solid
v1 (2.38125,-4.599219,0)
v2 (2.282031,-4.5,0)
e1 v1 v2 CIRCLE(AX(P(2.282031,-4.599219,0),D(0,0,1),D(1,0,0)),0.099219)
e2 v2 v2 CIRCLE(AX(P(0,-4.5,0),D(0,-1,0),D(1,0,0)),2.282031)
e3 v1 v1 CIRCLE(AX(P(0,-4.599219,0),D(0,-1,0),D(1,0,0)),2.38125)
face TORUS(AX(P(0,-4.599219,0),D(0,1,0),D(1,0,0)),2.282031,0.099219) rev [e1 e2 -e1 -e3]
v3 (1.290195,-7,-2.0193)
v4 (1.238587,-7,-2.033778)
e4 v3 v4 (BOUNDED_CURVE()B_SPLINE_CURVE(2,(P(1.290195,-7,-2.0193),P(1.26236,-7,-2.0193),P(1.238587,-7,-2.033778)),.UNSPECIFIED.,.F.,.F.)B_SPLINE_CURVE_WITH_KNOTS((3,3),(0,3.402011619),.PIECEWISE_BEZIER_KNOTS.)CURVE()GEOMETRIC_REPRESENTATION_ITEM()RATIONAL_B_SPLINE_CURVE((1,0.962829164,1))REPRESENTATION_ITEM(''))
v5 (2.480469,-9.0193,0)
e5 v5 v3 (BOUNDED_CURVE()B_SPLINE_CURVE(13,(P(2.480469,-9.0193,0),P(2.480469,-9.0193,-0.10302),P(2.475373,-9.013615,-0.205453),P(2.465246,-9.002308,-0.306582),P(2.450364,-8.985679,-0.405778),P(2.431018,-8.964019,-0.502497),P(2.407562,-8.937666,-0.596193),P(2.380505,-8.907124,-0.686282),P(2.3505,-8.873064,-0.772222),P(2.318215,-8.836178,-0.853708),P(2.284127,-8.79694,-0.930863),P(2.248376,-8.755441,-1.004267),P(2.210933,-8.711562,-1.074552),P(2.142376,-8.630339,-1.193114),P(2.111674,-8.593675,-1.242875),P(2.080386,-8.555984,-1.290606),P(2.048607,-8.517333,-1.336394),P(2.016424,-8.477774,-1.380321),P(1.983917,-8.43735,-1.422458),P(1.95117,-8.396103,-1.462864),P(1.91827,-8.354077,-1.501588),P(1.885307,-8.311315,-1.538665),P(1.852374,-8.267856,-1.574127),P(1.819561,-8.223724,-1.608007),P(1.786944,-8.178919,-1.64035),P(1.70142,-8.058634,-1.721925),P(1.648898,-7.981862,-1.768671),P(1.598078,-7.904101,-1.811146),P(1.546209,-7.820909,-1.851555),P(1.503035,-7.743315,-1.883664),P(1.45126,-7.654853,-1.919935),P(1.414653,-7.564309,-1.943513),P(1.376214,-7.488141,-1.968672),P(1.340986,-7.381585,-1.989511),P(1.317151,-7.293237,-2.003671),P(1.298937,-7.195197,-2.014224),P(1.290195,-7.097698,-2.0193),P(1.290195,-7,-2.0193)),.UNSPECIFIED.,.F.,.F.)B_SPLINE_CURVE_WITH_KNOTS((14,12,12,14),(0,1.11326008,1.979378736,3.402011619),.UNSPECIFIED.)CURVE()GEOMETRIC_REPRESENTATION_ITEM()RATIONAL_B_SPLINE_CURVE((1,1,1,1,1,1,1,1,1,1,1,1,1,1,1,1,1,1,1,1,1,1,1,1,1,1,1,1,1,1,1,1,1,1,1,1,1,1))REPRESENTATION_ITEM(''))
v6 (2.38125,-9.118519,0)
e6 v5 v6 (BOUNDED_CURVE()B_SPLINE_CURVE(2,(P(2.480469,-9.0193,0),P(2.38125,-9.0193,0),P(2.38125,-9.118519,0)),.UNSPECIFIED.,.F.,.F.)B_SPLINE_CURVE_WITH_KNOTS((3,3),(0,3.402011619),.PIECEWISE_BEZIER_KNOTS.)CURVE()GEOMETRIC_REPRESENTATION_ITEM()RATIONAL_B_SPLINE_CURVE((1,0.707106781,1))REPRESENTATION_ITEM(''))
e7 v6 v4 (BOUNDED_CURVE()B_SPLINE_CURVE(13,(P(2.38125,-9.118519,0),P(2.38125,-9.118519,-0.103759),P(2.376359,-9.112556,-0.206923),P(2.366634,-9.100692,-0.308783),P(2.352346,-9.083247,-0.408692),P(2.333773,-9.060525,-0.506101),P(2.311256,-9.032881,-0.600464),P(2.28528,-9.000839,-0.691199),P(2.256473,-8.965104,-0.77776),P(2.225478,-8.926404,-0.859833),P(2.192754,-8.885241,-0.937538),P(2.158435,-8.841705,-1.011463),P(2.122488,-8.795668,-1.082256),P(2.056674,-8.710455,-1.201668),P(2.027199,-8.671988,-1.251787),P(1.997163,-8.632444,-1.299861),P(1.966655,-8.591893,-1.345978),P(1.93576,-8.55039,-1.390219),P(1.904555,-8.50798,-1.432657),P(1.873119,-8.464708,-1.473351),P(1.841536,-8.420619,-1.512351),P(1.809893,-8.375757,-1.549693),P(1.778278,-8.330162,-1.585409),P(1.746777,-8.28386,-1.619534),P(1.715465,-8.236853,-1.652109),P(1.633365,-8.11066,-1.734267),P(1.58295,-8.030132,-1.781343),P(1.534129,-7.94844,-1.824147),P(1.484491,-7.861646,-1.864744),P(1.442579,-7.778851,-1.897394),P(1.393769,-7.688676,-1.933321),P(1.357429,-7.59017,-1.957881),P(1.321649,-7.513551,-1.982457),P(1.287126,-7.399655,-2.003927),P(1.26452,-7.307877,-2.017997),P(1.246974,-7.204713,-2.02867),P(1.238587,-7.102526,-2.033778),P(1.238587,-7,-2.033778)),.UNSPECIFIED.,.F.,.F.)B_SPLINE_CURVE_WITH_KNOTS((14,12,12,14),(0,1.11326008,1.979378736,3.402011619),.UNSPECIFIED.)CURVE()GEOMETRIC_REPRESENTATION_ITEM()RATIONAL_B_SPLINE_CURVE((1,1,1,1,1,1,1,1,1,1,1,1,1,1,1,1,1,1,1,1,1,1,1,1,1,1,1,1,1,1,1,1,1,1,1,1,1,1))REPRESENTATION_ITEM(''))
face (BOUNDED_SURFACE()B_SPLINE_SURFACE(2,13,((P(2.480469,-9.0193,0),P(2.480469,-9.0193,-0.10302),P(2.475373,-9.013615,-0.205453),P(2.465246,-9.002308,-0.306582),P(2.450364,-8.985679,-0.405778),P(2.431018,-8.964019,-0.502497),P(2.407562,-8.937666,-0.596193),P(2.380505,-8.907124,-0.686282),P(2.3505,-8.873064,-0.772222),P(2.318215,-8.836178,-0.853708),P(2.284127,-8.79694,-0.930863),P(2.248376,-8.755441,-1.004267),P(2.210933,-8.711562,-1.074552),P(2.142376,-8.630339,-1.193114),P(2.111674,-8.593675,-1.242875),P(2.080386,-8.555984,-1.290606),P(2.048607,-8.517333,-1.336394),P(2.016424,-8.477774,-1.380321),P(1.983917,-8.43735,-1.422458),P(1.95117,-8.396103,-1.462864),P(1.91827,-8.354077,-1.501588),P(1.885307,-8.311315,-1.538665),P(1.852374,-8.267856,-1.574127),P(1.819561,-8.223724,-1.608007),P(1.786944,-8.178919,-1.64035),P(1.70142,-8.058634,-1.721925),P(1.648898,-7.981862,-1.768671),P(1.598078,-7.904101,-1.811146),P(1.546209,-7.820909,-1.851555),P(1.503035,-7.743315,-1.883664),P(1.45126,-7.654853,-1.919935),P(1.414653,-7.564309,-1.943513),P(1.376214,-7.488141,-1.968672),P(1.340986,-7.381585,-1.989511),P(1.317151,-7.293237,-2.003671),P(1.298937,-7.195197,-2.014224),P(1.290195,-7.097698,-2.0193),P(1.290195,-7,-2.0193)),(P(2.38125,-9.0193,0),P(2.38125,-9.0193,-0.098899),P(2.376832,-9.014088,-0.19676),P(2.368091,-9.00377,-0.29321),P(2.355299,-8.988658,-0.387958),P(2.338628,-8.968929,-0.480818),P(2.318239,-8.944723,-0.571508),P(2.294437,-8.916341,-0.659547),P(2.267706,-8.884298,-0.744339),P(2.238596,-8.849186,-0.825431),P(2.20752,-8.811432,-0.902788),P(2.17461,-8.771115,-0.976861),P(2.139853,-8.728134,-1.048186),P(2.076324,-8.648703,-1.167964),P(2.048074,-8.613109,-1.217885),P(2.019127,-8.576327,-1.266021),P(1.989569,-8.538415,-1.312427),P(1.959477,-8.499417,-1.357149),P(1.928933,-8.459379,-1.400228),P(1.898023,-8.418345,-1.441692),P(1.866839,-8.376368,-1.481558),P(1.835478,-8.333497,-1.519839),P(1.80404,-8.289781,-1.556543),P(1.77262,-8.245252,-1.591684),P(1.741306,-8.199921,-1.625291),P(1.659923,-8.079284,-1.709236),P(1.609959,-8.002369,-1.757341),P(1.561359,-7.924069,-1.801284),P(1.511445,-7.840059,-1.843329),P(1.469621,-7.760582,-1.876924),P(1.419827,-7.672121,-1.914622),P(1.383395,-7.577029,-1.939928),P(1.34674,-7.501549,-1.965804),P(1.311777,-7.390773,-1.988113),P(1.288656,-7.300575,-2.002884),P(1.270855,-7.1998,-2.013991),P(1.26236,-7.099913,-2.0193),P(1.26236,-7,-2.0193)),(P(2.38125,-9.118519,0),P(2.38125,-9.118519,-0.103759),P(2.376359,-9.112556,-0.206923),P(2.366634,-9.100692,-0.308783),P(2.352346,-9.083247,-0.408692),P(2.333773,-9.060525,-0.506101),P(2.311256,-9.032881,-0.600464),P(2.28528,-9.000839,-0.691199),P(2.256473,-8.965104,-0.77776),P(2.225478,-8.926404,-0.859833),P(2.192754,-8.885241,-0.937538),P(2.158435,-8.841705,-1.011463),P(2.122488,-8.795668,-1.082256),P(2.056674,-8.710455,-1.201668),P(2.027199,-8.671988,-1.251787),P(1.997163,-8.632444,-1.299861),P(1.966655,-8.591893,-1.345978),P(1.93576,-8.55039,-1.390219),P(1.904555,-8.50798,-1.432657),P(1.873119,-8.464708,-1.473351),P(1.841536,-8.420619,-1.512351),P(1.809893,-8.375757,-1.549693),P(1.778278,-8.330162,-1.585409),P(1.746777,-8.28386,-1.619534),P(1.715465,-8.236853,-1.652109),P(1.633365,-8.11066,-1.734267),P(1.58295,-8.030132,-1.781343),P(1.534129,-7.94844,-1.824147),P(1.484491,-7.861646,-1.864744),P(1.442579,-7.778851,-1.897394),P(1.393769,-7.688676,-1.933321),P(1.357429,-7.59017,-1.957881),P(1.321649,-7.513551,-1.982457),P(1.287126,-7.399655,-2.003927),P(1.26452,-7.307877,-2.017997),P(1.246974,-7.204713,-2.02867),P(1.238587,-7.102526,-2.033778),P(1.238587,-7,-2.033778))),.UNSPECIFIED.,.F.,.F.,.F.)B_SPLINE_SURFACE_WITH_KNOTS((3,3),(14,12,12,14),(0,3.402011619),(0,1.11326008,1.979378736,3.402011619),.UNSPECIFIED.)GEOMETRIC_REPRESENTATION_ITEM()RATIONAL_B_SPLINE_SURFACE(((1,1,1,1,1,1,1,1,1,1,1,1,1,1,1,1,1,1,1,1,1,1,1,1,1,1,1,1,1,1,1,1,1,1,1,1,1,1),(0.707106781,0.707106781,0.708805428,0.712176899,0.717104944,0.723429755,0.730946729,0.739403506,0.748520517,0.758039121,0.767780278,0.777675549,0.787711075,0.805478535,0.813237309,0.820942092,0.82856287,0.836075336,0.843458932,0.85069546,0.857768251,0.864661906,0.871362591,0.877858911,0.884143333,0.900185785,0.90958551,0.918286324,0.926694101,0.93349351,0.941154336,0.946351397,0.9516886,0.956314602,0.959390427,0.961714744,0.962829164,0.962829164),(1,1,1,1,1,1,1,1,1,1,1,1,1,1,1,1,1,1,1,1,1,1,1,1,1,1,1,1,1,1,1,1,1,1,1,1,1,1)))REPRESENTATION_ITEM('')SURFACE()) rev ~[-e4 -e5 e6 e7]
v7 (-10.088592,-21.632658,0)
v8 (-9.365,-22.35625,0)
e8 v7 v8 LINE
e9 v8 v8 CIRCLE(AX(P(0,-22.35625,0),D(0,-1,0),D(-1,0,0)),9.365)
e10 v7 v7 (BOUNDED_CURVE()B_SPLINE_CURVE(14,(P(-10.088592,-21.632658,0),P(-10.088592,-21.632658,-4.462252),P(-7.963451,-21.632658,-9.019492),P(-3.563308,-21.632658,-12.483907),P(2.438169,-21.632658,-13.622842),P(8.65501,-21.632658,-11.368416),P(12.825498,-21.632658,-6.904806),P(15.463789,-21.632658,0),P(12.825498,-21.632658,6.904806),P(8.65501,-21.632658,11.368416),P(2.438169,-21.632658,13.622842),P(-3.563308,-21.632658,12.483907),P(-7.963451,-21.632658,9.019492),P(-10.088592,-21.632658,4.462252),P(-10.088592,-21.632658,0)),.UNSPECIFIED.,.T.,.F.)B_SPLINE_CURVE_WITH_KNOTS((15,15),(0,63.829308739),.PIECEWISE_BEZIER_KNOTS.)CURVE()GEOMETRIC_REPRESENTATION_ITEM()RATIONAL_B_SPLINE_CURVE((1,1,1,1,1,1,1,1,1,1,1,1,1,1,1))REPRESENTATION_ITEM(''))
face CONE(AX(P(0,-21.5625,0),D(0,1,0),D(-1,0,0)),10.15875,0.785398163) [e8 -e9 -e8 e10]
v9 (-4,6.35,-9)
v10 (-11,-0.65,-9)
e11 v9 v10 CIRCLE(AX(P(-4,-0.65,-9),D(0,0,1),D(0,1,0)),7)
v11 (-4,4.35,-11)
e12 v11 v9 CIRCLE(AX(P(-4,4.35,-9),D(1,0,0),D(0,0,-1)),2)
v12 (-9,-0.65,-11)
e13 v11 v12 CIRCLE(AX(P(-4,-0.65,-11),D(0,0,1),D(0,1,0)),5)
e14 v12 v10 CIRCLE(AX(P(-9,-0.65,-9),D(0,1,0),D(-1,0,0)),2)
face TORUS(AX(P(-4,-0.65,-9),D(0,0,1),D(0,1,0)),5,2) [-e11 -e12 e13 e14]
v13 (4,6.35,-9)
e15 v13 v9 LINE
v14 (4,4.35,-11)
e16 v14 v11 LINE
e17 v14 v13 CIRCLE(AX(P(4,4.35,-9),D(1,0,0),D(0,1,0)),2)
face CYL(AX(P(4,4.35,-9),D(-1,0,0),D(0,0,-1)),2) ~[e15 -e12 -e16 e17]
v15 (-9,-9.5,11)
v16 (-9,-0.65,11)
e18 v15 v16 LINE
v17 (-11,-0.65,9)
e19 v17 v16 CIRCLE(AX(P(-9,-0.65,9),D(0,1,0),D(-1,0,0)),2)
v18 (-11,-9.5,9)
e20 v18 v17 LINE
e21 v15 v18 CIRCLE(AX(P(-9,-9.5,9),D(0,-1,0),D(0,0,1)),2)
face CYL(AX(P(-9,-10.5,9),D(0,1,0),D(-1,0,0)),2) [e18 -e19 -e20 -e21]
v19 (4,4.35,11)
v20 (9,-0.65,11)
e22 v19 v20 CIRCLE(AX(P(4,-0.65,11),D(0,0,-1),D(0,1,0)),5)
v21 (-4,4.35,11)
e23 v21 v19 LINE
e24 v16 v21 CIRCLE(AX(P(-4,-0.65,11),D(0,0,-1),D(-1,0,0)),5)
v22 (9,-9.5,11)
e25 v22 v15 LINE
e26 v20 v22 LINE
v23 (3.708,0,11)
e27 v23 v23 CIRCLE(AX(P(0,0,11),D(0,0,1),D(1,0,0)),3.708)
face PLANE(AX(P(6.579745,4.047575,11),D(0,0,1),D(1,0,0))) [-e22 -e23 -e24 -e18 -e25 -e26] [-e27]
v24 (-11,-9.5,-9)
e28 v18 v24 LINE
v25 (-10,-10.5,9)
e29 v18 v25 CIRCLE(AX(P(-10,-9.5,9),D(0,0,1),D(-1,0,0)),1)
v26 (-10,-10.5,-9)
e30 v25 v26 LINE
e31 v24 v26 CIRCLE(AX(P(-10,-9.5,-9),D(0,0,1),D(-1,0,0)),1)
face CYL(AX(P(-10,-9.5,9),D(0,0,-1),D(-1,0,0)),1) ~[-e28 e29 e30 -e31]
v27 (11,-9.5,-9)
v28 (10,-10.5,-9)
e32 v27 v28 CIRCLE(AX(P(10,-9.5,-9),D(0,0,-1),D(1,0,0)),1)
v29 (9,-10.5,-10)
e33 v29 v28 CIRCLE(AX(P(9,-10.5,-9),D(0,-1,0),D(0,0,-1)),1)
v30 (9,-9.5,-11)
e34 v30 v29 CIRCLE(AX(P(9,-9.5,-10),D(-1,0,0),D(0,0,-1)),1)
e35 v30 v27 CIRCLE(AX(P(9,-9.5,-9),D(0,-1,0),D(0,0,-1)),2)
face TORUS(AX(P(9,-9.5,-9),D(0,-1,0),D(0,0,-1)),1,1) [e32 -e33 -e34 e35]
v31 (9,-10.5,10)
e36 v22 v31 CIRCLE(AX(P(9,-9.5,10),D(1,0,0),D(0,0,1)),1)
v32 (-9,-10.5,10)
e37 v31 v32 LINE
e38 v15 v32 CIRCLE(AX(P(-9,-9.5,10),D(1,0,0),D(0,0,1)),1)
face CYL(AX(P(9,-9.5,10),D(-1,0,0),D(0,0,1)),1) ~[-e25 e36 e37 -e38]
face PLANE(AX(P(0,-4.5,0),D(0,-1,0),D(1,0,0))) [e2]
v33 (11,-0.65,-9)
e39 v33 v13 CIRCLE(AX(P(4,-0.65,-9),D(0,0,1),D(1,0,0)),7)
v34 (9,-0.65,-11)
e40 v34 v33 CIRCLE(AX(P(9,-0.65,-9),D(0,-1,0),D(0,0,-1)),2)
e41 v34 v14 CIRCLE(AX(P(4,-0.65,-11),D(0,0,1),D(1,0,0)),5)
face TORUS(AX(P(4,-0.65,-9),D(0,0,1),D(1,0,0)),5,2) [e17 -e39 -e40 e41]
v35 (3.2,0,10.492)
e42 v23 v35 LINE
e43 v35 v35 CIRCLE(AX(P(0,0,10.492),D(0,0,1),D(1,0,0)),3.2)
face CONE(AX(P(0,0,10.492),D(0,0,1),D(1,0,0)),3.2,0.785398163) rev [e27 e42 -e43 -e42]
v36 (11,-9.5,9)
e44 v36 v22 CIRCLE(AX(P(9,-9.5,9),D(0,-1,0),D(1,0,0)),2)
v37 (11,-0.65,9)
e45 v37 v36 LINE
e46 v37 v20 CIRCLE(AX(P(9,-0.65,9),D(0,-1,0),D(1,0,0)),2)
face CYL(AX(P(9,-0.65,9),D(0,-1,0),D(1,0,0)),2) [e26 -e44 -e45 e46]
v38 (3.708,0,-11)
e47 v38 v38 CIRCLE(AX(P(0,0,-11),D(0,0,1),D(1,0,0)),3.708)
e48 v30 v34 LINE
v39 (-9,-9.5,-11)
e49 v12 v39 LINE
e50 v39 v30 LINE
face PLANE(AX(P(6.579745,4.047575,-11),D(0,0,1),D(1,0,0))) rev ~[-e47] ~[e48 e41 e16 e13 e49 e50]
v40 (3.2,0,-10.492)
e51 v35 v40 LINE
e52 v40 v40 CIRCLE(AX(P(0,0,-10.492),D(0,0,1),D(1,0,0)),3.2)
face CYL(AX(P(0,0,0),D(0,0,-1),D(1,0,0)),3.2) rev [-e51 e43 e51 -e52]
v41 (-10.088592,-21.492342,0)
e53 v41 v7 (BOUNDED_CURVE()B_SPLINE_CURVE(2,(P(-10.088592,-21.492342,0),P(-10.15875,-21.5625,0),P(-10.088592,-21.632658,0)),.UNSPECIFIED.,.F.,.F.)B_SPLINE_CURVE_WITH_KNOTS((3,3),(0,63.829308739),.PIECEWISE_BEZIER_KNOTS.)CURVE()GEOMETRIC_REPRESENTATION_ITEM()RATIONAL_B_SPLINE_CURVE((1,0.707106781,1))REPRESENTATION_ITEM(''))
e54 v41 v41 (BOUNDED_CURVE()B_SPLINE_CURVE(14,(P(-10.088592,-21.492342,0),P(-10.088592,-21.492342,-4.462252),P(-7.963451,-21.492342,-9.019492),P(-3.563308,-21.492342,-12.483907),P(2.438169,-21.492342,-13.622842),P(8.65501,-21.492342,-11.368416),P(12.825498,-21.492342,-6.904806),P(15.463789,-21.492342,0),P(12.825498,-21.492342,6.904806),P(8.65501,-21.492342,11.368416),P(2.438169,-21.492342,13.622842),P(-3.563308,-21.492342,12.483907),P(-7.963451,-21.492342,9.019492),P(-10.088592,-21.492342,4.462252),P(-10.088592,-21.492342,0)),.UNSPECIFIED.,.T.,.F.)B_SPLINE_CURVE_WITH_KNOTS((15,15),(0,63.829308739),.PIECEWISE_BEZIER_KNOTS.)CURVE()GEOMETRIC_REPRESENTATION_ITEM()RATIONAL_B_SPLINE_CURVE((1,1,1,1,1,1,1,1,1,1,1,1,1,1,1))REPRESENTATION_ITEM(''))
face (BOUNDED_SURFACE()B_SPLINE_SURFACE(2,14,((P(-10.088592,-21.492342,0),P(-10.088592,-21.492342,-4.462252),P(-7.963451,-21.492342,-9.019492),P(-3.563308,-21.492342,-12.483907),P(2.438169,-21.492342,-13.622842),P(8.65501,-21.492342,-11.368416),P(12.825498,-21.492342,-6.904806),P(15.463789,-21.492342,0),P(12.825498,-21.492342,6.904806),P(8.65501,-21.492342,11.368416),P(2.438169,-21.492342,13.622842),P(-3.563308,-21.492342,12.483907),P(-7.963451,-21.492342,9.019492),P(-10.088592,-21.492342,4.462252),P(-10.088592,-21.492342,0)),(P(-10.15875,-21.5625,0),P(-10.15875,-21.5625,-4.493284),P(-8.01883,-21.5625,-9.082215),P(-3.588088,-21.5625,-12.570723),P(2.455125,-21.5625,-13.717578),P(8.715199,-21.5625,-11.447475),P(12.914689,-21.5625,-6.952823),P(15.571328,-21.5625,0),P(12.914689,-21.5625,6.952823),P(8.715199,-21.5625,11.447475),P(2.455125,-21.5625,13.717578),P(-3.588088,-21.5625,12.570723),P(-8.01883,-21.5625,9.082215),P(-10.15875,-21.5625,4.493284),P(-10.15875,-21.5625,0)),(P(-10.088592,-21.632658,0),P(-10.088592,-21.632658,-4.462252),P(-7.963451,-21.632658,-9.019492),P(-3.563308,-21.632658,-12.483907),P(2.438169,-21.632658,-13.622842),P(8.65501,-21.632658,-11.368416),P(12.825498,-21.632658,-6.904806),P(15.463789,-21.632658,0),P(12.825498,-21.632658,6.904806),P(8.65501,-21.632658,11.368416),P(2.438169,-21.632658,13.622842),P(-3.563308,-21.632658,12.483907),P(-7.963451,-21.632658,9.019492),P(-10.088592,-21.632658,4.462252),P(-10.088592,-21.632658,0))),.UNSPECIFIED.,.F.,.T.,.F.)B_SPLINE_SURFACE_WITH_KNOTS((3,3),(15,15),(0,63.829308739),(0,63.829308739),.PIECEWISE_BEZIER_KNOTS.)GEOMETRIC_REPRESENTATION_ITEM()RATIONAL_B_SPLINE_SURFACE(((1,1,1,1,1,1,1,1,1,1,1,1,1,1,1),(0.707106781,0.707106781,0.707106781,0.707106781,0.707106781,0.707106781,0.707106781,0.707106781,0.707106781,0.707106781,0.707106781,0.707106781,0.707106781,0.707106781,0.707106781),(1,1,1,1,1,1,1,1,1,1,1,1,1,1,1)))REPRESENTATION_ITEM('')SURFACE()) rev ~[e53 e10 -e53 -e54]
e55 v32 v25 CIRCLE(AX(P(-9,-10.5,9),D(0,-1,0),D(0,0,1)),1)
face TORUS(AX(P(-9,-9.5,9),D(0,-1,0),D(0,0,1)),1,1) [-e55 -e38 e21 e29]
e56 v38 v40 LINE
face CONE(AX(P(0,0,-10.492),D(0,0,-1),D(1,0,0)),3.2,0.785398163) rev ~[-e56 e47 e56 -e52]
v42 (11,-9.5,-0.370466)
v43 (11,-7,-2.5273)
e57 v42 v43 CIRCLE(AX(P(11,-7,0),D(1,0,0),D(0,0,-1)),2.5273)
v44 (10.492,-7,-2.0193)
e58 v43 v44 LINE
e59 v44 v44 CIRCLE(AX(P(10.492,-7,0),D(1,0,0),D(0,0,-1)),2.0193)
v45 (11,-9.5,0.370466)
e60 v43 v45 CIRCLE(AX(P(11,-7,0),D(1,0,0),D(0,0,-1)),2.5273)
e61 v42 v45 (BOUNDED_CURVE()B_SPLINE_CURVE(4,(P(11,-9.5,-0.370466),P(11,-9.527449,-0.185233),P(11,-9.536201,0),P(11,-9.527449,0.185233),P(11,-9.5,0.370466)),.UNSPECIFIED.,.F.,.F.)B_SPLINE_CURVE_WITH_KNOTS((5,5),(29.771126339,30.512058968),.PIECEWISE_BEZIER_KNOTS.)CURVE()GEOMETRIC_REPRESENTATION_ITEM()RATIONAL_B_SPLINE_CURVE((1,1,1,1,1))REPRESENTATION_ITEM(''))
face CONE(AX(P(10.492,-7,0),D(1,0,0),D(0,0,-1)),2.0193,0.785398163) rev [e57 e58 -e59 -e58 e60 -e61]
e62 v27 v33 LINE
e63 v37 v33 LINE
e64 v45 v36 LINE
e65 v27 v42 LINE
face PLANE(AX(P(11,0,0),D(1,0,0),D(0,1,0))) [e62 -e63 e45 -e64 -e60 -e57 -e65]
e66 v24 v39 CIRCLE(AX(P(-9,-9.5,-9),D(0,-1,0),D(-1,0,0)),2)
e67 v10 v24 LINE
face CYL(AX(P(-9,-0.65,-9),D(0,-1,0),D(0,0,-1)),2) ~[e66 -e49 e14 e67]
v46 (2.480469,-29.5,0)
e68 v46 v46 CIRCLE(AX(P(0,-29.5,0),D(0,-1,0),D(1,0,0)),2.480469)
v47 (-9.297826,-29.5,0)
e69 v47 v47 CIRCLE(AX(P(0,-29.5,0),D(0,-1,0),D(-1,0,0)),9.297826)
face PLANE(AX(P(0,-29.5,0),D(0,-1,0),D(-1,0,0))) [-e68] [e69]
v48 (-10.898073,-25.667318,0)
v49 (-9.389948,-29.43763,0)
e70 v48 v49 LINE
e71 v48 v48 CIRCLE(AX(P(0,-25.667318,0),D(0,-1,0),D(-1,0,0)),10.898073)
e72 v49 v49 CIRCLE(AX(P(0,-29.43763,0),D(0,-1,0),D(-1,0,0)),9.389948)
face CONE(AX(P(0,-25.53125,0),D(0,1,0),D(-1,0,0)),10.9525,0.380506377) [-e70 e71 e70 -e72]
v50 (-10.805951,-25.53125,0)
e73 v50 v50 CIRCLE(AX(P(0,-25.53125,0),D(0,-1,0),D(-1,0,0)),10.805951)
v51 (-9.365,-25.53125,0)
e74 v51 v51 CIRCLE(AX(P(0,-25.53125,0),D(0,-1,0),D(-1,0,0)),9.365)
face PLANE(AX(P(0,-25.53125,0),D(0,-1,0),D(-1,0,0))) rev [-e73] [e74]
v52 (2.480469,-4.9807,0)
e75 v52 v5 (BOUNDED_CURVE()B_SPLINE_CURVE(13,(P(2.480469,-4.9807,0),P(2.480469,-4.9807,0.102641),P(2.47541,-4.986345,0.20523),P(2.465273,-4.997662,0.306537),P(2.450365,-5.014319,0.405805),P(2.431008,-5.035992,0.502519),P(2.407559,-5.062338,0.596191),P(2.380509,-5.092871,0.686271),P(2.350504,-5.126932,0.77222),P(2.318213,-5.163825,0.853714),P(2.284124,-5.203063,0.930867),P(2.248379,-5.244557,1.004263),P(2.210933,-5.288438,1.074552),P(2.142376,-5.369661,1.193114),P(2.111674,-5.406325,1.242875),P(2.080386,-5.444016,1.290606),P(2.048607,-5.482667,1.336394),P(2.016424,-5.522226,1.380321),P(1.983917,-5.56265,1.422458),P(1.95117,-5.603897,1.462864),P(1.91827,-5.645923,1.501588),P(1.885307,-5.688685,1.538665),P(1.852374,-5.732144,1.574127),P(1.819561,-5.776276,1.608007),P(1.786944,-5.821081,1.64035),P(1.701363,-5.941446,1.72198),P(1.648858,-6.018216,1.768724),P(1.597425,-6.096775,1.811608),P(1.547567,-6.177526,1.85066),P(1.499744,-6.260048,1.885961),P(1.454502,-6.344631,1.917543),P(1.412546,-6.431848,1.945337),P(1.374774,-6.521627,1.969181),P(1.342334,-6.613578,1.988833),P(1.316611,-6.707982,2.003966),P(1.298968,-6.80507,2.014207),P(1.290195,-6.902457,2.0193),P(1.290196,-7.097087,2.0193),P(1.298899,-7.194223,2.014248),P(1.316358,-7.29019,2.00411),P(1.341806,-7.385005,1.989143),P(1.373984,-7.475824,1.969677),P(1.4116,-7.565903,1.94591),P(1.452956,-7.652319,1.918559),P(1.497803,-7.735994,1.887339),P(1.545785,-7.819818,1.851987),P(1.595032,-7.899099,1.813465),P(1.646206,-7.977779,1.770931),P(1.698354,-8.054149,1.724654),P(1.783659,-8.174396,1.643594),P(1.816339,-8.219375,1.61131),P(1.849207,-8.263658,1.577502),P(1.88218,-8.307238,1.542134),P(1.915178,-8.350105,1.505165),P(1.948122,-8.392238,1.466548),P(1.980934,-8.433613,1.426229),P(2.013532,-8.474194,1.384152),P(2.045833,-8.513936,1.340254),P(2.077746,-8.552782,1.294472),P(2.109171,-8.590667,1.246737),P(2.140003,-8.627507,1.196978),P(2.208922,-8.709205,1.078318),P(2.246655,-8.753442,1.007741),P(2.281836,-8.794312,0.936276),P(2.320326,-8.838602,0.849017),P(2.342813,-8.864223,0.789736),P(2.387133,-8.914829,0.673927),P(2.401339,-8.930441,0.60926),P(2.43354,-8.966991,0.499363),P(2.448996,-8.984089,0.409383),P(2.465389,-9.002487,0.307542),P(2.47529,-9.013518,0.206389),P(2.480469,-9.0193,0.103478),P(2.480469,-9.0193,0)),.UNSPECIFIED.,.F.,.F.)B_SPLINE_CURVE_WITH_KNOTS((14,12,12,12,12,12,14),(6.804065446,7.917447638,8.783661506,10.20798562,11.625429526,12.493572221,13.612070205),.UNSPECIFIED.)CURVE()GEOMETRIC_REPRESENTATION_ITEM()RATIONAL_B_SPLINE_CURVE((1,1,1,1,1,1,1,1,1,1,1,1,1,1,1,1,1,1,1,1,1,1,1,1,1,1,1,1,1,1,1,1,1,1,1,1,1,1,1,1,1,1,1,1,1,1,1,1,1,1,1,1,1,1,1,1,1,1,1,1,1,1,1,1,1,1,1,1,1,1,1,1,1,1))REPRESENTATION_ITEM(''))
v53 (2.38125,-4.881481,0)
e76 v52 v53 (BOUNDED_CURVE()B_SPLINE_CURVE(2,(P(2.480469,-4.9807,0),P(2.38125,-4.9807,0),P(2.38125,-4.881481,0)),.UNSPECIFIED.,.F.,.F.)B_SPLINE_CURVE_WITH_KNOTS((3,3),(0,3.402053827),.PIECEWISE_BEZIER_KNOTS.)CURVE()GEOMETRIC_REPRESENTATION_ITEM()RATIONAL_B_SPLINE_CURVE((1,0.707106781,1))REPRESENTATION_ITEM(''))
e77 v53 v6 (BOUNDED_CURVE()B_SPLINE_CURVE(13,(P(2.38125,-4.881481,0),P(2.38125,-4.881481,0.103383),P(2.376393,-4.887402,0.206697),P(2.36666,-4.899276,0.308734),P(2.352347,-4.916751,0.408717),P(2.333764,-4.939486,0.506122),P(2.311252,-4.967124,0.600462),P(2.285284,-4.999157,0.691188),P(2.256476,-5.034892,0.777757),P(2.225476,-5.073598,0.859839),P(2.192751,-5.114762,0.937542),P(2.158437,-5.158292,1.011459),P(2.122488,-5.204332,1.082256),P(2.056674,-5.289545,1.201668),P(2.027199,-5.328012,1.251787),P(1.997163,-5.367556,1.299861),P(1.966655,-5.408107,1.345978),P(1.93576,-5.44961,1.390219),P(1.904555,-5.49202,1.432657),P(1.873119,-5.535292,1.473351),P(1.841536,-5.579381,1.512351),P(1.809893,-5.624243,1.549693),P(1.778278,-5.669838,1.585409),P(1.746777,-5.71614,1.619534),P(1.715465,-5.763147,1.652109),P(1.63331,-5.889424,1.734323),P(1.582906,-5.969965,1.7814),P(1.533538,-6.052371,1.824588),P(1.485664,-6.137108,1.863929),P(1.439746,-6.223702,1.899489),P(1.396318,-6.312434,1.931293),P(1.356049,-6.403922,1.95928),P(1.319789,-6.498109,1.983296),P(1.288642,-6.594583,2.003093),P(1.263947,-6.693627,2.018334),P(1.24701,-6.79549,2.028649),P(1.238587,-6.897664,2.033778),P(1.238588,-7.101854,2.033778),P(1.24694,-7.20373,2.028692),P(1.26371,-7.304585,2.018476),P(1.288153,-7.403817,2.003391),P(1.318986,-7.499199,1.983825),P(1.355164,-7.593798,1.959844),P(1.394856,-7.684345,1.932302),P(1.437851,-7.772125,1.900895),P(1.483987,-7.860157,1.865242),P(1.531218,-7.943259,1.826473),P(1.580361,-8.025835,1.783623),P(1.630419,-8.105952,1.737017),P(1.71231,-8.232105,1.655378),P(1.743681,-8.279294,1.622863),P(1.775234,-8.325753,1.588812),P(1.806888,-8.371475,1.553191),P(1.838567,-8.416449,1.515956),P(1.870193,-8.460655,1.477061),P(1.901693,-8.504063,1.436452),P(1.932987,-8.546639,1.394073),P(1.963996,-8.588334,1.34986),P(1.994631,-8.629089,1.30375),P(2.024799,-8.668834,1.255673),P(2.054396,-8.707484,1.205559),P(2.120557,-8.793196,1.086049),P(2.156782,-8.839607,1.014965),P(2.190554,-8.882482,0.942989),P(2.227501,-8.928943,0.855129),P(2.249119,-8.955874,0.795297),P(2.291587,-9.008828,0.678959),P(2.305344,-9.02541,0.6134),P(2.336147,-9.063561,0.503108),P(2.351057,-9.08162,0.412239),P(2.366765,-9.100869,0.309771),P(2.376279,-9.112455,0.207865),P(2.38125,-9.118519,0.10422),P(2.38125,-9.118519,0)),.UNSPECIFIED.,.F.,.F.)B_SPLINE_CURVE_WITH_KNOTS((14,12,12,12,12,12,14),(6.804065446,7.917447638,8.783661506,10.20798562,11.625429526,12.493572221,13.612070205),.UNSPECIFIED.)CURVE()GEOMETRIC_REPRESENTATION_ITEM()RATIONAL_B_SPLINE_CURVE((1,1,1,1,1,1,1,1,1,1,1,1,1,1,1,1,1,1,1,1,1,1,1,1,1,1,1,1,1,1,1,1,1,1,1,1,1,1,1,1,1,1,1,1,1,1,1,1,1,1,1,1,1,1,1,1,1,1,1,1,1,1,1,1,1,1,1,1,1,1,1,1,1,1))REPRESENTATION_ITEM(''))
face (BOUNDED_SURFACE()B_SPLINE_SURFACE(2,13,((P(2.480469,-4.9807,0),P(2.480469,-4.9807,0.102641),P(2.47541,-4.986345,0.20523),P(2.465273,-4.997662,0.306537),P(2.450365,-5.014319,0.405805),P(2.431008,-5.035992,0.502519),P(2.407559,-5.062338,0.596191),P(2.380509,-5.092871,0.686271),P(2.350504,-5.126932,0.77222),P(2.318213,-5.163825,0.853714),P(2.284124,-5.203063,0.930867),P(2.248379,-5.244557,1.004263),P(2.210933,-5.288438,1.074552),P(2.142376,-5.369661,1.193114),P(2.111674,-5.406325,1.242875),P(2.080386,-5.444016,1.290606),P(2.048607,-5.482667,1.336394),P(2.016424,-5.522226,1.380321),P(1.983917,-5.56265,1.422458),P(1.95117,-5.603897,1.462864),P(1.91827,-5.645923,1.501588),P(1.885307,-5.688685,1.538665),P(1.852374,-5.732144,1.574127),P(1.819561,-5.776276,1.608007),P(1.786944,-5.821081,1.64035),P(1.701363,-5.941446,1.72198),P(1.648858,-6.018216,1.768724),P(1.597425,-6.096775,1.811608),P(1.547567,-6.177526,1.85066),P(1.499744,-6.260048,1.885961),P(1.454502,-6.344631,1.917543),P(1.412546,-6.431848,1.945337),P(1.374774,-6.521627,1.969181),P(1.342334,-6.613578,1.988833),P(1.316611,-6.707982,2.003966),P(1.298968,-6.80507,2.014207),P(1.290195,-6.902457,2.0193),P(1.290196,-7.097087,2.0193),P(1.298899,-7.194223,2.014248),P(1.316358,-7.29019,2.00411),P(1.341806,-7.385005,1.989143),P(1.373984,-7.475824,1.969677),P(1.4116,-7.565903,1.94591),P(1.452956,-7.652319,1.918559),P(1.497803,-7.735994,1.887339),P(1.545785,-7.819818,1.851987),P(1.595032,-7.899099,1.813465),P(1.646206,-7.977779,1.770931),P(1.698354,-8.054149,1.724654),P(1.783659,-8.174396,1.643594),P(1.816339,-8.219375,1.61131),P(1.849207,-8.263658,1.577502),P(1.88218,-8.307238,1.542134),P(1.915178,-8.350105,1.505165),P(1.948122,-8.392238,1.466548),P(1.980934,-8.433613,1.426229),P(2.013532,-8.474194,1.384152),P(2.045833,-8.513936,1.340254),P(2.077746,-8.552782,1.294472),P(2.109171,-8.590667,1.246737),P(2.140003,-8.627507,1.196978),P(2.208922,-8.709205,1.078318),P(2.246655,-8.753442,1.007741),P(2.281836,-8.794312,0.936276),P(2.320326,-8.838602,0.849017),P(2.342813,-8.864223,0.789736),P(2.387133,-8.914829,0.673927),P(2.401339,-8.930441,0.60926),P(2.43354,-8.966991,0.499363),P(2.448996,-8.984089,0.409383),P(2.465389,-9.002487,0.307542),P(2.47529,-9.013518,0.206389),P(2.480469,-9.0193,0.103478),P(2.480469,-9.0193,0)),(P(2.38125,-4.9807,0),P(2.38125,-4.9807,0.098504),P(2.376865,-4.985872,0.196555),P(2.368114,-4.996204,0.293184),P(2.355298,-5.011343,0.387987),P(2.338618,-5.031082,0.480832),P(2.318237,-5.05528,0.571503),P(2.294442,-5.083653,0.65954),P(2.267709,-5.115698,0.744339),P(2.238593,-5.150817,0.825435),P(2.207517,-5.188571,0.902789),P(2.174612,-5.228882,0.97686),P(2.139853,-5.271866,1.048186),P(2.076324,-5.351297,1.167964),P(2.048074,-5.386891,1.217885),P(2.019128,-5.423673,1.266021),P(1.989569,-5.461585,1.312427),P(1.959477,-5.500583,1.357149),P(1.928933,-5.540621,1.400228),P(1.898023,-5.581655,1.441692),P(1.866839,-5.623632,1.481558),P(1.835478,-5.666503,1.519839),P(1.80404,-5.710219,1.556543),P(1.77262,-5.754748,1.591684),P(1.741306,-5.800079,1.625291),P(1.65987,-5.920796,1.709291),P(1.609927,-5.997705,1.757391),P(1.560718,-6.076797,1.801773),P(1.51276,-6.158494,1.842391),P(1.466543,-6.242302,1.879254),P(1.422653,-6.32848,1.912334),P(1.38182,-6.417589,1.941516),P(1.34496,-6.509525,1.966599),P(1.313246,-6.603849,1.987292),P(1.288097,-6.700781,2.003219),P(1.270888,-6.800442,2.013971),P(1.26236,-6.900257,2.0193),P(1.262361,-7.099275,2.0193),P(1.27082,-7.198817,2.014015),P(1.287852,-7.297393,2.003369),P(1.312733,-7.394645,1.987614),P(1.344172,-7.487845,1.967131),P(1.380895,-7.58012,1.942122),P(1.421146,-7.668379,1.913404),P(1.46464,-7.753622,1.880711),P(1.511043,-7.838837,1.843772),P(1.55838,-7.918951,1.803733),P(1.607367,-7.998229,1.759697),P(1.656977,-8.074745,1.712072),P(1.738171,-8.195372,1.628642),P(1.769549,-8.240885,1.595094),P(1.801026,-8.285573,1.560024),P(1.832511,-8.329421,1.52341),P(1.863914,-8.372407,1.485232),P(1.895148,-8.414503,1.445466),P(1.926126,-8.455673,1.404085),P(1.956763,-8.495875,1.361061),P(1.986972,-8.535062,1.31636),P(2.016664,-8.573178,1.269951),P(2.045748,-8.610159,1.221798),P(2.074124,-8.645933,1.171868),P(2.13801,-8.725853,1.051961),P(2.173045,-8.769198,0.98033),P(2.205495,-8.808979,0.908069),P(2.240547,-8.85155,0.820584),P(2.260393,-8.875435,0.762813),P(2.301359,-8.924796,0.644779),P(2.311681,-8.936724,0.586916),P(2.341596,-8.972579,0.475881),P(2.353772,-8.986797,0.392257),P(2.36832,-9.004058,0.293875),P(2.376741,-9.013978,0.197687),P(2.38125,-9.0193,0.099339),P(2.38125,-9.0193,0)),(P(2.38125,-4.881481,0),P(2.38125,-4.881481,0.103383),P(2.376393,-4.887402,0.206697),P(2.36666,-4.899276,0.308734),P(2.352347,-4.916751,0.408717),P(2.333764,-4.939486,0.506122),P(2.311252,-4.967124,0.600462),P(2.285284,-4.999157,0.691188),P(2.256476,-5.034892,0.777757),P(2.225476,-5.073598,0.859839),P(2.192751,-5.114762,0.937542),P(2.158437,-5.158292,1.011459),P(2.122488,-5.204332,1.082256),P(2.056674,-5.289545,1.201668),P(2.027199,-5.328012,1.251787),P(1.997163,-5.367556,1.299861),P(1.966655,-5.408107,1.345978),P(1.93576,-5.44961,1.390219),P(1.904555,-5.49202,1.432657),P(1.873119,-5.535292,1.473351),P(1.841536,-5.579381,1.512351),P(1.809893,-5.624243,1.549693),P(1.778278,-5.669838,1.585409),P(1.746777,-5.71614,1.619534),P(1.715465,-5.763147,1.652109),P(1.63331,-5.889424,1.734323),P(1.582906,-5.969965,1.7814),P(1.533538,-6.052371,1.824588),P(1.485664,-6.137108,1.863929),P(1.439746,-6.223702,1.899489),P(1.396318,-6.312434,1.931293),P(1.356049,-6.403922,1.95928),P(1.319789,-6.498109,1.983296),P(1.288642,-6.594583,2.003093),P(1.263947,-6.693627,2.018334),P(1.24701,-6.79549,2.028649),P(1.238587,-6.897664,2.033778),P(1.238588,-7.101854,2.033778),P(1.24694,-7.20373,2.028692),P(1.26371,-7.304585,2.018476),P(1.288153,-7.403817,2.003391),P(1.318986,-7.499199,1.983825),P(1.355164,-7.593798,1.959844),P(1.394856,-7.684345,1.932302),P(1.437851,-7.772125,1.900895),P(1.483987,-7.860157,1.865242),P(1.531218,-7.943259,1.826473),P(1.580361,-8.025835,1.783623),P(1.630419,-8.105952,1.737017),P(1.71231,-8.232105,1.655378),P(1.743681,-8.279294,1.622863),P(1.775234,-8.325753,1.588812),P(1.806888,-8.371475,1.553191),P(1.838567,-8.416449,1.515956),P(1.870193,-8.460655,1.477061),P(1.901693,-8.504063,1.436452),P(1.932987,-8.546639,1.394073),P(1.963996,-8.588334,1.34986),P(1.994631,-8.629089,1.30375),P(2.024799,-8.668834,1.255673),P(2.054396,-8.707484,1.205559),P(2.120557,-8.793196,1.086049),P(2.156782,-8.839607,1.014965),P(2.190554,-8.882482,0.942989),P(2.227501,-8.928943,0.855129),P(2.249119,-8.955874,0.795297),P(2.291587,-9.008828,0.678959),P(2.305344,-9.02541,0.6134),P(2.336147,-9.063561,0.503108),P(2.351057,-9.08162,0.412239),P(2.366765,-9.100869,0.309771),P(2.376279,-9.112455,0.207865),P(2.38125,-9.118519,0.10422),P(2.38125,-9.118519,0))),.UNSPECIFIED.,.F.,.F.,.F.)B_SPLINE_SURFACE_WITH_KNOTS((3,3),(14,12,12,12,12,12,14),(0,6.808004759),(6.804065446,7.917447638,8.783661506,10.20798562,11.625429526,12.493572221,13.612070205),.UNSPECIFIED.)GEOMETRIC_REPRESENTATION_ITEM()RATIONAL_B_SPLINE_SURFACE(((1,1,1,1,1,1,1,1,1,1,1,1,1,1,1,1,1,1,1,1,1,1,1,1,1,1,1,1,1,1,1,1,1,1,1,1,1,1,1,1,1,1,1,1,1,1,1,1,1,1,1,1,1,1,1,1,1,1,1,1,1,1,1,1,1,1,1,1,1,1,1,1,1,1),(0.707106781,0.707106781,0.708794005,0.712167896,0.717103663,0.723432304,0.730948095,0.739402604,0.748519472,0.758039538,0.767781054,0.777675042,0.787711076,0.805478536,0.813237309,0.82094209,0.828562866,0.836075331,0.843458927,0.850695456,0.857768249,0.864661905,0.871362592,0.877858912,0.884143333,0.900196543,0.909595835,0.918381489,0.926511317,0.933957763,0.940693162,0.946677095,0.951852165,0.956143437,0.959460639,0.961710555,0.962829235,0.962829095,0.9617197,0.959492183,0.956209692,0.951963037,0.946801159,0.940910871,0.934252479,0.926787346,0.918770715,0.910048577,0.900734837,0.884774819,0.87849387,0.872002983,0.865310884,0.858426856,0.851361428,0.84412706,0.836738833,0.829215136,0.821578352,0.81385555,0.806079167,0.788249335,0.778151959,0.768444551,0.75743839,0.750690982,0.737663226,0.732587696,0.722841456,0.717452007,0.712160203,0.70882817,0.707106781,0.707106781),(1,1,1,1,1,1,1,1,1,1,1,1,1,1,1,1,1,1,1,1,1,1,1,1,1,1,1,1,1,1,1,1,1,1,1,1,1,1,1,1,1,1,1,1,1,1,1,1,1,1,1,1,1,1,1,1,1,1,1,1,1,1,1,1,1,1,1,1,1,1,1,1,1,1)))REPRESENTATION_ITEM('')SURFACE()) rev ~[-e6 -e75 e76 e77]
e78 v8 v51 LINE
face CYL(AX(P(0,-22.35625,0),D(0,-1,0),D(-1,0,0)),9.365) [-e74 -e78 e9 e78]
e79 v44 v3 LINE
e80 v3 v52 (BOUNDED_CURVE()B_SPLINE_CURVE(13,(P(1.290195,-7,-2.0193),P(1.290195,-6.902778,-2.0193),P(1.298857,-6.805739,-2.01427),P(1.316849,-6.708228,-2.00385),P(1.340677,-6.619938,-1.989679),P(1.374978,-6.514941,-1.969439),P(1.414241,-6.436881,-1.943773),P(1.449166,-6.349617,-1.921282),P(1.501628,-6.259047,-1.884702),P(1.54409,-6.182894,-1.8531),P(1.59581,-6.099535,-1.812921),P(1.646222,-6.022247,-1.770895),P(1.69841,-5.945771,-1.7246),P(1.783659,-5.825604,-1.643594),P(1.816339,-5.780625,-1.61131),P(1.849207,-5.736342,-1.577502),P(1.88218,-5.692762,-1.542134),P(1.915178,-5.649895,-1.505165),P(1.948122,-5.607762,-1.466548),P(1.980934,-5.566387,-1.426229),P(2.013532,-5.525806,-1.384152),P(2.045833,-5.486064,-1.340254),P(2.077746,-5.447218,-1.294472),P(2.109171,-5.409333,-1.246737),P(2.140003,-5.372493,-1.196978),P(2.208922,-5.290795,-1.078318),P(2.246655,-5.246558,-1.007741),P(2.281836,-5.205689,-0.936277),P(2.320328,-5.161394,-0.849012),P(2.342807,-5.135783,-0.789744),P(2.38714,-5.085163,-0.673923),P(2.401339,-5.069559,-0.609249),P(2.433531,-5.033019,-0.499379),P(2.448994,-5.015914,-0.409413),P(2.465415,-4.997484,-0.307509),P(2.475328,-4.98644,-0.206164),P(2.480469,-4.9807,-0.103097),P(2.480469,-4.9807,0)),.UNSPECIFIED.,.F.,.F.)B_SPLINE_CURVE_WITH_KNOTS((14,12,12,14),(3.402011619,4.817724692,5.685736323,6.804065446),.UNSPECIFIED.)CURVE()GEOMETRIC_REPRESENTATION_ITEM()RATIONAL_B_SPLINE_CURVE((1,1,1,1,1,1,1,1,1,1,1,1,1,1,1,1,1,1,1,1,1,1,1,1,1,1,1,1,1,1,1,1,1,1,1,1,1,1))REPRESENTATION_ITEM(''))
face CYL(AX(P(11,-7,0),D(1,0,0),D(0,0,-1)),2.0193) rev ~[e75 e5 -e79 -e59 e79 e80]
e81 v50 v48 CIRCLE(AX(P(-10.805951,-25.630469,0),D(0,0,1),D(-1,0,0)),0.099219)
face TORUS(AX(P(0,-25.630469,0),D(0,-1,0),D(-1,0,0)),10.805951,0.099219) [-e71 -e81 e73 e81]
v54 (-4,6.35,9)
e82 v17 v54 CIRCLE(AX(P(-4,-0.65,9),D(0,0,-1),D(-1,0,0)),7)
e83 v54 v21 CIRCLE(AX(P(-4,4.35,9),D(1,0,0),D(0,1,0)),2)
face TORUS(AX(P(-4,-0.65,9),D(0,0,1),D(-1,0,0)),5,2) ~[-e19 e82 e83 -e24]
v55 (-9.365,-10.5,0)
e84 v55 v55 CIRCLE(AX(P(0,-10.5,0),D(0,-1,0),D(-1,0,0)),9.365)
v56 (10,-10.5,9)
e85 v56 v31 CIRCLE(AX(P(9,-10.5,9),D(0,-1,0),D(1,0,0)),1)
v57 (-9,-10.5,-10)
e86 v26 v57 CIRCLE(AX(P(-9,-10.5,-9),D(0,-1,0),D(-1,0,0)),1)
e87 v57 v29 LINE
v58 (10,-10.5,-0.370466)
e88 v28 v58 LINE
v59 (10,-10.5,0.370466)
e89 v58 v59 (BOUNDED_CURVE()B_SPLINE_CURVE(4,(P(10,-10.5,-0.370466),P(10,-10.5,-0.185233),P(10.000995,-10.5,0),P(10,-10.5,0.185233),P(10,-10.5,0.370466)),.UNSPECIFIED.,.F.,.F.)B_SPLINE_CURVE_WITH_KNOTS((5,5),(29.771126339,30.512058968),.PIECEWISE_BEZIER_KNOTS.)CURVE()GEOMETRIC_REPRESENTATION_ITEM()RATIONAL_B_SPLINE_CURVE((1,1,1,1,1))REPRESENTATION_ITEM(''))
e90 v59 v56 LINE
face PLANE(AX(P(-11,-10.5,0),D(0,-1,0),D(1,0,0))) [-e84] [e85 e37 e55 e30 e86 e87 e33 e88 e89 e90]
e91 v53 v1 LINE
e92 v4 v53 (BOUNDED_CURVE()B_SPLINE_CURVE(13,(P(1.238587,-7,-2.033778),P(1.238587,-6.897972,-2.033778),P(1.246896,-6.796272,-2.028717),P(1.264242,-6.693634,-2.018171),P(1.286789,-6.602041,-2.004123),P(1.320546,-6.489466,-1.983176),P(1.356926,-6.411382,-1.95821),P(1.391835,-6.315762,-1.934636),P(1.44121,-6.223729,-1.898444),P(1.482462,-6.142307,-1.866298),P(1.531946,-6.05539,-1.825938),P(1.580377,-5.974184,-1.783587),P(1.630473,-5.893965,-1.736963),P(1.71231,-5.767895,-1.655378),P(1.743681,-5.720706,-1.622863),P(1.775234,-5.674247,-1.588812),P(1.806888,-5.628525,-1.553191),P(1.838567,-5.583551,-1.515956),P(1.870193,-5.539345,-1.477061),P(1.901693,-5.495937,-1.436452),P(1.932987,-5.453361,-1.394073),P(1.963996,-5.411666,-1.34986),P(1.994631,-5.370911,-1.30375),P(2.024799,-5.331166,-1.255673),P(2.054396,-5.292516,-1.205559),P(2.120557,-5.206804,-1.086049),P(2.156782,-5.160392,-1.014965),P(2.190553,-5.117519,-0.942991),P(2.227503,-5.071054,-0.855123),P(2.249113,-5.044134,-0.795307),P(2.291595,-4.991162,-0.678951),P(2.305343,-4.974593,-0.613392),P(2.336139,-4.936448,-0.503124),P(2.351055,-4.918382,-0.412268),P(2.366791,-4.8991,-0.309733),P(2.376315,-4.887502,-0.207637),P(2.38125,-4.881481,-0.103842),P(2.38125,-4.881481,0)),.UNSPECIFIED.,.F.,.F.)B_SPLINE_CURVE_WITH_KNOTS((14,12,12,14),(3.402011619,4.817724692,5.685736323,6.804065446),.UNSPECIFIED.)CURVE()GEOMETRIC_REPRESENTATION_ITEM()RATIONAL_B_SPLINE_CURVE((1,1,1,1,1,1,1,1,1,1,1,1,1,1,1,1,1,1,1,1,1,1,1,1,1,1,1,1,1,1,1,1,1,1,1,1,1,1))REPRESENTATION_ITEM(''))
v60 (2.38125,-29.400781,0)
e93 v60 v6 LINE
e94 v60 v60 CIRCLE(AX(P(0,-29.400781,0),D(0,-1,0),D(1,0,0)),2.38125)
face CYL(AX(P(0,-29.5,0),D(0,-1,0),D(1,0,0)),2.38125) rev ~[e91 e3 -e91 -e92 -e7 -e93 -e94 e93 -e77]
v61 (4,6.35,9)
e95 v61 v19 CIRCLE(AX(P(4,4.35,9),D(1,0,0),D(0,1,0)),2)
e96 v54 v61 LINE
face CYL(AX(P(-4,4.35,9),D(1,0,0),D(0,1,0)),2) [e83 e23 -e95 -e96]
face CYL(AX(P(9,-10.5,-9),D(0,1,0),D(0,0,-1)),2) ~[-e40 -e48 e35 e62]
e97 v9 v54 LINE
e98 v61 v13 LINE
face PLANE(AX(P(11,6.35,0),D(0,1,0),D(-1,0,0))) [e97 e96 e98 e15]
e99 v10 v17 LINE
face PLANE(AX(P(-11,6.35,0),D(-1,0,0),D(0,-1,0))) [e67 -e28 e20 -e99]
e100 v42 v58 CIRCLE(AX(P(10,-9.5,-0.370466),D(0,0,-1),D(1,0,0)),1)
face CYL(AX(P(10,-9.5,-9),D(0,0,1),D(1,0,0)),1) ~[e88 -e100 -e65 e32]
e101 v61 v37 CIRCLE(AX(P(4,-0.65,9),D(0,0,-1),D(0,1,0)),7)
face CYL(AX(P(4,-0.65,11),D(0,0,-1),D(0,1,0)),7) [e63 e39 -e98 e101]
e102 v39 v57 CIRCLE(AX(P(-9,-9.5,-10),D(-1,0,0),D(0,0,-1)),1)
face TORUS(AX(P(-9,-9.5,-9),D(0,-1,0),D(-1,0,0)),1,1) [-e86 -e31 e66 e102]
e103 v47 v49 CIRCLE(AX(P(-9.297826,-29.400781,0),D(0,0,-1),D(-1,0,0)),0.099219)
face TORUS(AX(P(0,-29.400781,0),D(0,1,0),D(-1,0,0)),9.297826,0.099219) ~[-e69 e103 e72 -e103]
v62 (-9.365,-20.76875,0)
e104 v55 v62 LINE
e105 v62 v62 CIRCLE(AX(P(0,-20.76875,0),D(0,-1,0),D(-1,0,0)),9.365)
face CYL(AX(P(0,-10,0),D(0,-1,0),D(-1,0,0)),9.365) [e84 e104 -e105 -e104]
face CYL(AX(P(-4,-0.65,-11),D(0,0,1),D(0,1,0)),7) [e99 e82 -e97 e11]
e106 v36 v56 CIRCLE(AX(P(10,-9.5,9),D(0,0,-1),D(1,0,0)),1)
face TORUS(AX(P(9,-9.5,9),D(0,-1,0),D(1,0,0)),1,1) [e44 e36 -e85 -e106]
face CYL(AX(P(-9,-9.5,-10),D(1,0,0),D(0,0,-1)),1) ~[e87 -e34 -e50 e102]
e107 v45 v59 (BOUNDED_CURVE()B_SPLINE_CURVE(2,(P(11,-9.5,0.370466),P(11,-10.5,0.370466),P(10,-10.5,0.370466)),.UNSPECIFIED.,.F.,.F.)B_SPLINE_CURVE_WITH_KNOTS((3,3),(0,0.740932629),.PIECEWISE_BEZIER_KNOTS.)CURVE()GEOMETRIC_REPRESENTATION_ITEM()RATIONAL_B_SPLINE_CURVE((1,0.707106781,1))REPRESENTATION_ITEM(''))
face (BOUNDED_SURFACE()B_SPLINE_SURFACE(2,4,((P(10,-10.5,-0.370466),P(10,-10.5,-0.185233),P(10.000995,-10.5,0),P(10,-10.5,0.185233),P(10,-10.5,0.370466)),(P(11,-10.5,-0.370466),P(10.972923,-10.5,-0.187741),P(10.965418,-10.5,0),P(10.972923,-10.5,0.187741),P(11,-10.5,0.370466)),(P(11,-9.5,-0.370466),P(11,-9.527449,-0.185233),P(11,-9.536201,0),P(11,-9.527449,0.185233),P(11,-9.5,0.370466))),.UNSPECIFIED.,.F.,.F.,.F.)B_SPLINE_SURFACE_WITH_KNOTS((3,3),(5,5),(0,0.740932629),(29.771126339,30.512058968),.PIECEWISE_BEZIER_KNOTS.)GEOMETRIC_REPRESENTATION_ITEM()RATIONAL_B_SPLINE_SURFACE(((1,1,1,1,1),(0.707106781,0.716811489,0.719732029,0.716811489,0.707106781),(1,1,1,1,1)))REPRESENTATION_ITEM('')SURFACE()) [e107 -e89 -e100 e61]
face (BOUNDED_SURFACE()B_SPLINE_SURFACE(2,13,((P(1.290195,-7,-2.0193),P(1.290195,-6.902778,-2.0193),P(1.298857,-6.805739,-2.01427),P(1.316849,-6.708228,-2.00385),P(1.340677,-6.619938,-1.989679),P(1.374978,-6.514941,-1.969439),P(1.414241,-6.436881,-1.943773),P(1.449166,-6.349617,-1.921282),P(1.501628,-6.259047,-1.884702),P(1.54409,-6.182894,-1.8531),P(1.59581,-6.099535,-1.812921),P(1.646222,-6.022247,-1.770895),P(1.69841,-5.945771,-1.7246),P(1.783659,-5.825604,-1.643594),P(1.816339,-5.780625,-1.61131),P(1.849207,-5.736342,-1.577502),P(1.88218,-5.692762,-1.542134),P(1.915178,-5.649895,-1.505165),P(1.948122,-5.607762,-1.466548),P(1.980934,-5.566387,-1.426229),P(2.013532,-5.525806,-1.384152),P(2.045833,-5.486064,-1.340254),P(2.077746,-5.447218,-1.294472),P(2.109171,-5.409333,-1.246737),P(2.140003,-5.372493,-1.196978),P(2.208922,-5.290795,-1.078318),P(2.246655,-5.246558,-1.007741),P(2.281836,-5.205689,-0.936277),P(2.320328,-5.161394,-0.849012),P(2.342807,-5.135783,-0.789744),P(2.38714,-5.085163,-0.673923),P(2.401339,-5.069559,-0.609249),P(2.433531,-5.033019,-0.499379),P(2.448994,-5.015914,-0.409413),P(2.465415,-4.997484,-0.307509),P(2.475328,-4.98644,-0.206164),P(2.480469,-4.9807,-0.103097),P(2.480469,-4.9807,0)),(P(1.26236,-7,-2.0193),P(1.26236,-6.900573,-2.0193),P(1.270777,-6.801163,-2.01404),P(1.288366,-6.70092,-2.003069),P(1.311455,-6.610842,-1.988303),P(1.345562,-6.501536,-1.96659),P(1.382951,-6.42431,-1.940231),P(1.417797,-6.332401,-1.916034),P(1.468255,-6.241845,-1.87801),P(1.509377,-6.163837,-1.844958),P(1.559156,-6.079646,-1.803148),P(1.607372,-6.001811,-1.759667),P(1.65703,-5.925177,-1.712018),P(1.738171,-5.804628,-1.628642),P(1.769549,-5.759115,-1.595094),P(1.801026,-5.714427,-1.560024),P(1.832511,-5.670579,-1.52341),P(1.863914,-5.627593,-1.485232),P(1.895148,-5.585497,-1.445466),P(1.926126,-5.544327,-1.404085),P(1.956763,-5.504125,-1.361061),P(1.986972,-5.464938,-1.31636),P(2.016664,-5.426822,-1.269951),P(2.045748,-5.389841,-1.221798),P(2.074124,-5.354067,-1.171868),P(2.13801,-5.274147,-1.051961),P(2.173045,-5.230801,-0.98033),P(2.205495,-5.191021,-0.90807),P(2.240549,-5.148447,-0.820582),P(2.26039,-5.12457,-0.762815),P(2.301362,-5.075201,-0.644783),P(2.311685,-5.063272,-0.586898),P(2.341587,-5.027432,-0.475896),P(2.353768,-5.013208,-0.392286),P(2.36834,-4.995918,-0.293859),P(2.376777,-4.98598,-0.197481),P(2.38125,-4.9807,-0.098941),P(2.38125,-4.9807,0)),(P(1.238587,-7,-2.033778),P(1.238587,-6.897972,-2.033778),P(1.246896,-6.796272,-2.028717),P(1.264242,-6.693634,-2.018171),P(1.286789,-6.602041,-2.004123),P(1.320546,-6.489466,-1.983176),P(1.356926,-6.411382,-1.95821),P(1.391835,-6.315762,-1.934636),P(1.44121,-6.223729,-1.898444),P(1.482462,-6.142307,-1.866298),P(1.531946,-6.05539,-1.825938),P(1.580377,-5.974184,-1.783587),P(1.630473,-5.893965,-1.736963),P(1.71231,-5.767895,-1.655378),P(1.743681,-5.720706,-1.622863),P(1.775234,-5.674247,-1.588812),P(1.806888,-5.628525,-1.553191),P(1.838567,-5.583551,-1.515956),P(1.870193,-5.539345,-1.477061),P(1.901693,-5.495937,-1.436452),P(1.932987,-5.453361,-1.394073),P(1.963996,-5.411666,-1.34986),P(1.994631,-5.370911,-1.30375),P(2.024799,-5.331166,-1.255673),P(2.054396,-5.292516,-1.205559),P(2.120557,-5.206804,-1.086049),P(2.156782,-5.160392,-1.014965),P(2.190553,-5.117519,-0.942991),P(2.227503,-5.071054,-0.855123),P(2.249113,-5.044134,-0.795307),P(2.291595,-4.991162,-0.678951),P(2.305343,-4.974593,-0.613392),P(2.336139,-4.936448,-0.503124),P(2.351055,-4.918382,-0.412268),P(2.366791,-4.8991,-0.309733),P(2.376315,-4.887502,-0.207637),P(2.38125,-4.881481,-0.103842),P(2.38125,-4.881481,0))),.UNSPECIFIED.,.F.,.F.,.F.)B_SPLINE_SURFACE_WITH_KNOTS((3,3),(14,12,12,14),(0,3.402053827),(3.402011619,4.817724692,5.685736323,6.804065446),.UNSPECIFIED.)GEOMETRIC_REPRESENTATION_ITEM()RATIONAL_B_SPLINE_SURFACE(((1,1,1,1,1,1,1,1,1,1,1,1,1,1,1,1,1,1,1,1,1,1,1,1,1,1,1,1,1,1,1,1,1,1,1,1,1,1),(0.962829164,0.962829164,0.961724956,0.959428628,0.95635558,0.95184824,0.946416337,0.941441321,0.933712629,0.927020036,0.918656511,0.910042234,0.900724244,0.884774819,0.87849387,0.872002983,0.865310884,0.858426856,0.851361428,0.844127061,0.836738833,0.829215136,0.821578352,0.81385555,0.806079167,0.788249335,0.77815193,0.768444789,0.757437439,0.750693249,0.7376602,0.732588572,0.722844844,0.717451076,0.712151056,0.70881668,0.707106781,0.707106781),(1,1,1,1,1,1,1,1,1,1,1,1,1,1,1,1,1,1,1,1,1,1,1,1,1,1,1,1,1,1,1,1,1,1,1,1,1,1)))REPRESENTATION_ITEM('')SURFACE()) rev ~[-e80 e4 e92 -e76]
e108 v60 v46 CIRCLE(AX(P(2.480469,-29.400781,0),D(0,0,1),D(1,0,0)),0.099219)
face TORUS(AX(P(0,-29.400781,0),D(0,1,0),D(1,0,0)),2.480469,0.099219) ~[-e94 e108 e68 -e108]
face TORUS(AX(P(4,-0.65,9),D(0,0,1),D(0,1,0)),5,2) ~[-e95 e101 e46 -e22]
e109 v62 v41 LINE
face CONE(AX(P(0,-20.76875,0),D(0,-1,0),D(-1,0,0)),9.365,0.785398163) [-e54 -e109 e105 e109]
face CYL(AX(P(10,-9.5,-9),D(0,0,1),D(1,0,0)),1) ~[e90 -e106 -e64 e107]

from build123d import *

# Parameters (mm, degrees)
SKETCH1_R                   = 3.2
BOSS_EXTRUDE1_DEPTH         = 11
SKETCH3_R                   = 2.38125
CUT_EXTRUDE1_DEPTH          = 25
F_10_32_TAPPED_HOLE1_REACH  = 40.409
F_10_32_TAPPED_HOLE1_BORE_R = 2.0193
FILLET3_R                   = 0.09921875
CHAMFER1_SIZE               = 0.508
FILLET4_R                   = 7
FILLET5_R                   = 2
FILLET6_R                   = 1


with BuildPart() as part:
    # Sketch1 → Boss-Extrude1 (new, symmetric)
    # profile 1 of 3: a face of its own
    with BuildSketch(Plane.XY):
        with BuildLine():
            Line((-11, 6.35), (-11, 0))
            Line((-11, 0), (-6.35, 0))
            ThreePointArc((-6.35, 0), (-4.49012806, 4.490128061), (2e-09, 6.35))
            Line((2e-09, 6.35), (-11, 6.35))
        make_face()
    # profile 2 of 3: a face of its own
    with BuildSketch(Plane.XY):
        with BuildLine():
            Line((-6.35, 0), (-11, 0))
            Line((-11, 0), (-11, -10.5))
            Line((-11, -10.5), (11, -10.5))
            Line((11, -10.5), (11, 0))
            Line((11, 0), (6.35, 0))
            ThreePointArc((6.35, 0), (4.490128061, 4.49012806), (2e-09, 6.35))
            ThreePointArc((2e-09, 6.35), (-4.49012806, 4.490128061), (-6.35, 0))
        make_face()
        Circle(SKETCH1_R, mode=Mode.SUBTRACT)
    # profile 3 of 3: a face of its own
    with BuildSketch(Plane.XY):
        with BuildLine():
            Line((11, 6.35), (2e-09, 6.35))
            ThreePointArc((2e-09, 6.35), (4.490128061, 4.49012806), (6.35, 0))
            Line((6.35, 0), (11, 0))
            Line((11, 0), (11, 6.35))
        make_face()
    extrude(amount=BOSS_EXTRUDE1_DEPTH, both=True)

    # Sketch2 → Revolve1 (revolve)
    with BuildSketch(Plane.XY, mode=Mode.PRIVATE) as revolve1_sk:
        Polygon((0, -10), (9.365, -10), (9.365, -20.76875), (10.15875, -21.5625), (9.365, -22.35625), (9.365, -25.53125), (10.9525, -25.53125), (9.365, -29.5), (0, -29.5), align=None)
    revolve(revolve1_sk.sketch.rotate(Axis((0, 9.54404991, 0), (0, -1, 0)), 180), axis=Axis((0, 9.54404991, 0), (0, -1, 0)))

    # Sketch3 → Cut-Extrude1 (cut)
    with BuildSketch(Plane.XZ.offset(29.5)):
        Circle(SKETCH3_R)
    extrude(amount=-CUT_EXTRUDE1_DEPTH, mode=Mode.SUBTRACT)

    # #10-32 Tapped Hole1 bore → #10-32 Tapped Hole1 (cut, up to next)
    with BuildSketch(Plane(origin=(11, 0, 0), x_dir=(0, 0, -1), z_dir=(1, 0, 0)), mode=Mode.PRIVATE) as f_10_32_tapped_hole1_sk1:
        with Locations((0, -7)):
            Circle(F_10_32_TAPPED_HOLE1_BORE_R)
    f_10_32_tapped_hole1_tool1 = extrude(f_10_32_tapped_hole1_sk1.sketch, amount=-F_10_32_TAPPED_HOLE1_REACH, mode=Mode.PRIVATE) & part.part
    add(f_10_32_tapped_hole1_tool1.solids().sort_by_distance((11, -7, 0))[0], mode=Mode.SUBTRACT)

    # Fillet3
    fillet3_edges = [part.edges().sort_by_distance(p)[0] for p in [
        (10.15875, -21.5625, 0),
        (10.9525, -25.53125, 0),
        (9.365, -29.5, 0),
        (-2.38125, -4.5, 0),
        (-2.38125, -29.5, 0),
        (1.892404965, -8.410112563, -1.445390956),
    ]]
    fillet(fillet3_edges, radius=FILLET3_R)

    # Chamfer1
    chamfer1_edges = [part.edges().sort_by_distance(p)[0] for p in [
        (-3.2, 0, 11),
        (11, -7, 2.0193),
        (-3.2, 0, -11),
    ]]
    chamfer(chamfer1_edges, length=CHAMFER1_SIZE)

    # Fillet4
    fillet4_edges = [part.edges().sort_by_distance(p)[0] for p in [
        (-11, 6.35, 0),
        (11, 6.35, 0),
    ]]
    fillet(fillet4_edges, radius=FILLET4_R)

    # Fillet5
    fillet5_edges = [part.edges().sort_by_distance(p)[0] for p in [
        (0, 6.35, -11),
        (0, 6.35, 11),
        (11, -5.575, -11),
        (-11, -5.575, -11),
        (-8.949747468, 4.299747468, -11),
        (8.949747468, 4.299747468, -11),
        (11, -5.575, 11),
        (-11, -5.575, 11),
        (-8.949747468, 4.299747468, 11),
        (8.949747468, 4.299747468, 11),
    ]]
    fillet(fillet5_edges, radius=FILLET5_R)

    # Fillet6
    fillet6_edges = [part.edges().sort_by_distance(p)[0] for p in [
        (0, -10.5, -11),
        (11, -10.5, 0),
        (0, -10.5, 11),
        (-11, -10.5, 0),
        (-10.414213562, -10.5, 10.414213562),
        (-10.414213562, -10.5, -10.414213562),
        (10.414213562, -10.5, 10.414213562),
        (10.414213562, -10.5, -10.414213562),
    ]]
    fillet(fillet6_edges, radius=FILLET6_R)


solid = part.part
